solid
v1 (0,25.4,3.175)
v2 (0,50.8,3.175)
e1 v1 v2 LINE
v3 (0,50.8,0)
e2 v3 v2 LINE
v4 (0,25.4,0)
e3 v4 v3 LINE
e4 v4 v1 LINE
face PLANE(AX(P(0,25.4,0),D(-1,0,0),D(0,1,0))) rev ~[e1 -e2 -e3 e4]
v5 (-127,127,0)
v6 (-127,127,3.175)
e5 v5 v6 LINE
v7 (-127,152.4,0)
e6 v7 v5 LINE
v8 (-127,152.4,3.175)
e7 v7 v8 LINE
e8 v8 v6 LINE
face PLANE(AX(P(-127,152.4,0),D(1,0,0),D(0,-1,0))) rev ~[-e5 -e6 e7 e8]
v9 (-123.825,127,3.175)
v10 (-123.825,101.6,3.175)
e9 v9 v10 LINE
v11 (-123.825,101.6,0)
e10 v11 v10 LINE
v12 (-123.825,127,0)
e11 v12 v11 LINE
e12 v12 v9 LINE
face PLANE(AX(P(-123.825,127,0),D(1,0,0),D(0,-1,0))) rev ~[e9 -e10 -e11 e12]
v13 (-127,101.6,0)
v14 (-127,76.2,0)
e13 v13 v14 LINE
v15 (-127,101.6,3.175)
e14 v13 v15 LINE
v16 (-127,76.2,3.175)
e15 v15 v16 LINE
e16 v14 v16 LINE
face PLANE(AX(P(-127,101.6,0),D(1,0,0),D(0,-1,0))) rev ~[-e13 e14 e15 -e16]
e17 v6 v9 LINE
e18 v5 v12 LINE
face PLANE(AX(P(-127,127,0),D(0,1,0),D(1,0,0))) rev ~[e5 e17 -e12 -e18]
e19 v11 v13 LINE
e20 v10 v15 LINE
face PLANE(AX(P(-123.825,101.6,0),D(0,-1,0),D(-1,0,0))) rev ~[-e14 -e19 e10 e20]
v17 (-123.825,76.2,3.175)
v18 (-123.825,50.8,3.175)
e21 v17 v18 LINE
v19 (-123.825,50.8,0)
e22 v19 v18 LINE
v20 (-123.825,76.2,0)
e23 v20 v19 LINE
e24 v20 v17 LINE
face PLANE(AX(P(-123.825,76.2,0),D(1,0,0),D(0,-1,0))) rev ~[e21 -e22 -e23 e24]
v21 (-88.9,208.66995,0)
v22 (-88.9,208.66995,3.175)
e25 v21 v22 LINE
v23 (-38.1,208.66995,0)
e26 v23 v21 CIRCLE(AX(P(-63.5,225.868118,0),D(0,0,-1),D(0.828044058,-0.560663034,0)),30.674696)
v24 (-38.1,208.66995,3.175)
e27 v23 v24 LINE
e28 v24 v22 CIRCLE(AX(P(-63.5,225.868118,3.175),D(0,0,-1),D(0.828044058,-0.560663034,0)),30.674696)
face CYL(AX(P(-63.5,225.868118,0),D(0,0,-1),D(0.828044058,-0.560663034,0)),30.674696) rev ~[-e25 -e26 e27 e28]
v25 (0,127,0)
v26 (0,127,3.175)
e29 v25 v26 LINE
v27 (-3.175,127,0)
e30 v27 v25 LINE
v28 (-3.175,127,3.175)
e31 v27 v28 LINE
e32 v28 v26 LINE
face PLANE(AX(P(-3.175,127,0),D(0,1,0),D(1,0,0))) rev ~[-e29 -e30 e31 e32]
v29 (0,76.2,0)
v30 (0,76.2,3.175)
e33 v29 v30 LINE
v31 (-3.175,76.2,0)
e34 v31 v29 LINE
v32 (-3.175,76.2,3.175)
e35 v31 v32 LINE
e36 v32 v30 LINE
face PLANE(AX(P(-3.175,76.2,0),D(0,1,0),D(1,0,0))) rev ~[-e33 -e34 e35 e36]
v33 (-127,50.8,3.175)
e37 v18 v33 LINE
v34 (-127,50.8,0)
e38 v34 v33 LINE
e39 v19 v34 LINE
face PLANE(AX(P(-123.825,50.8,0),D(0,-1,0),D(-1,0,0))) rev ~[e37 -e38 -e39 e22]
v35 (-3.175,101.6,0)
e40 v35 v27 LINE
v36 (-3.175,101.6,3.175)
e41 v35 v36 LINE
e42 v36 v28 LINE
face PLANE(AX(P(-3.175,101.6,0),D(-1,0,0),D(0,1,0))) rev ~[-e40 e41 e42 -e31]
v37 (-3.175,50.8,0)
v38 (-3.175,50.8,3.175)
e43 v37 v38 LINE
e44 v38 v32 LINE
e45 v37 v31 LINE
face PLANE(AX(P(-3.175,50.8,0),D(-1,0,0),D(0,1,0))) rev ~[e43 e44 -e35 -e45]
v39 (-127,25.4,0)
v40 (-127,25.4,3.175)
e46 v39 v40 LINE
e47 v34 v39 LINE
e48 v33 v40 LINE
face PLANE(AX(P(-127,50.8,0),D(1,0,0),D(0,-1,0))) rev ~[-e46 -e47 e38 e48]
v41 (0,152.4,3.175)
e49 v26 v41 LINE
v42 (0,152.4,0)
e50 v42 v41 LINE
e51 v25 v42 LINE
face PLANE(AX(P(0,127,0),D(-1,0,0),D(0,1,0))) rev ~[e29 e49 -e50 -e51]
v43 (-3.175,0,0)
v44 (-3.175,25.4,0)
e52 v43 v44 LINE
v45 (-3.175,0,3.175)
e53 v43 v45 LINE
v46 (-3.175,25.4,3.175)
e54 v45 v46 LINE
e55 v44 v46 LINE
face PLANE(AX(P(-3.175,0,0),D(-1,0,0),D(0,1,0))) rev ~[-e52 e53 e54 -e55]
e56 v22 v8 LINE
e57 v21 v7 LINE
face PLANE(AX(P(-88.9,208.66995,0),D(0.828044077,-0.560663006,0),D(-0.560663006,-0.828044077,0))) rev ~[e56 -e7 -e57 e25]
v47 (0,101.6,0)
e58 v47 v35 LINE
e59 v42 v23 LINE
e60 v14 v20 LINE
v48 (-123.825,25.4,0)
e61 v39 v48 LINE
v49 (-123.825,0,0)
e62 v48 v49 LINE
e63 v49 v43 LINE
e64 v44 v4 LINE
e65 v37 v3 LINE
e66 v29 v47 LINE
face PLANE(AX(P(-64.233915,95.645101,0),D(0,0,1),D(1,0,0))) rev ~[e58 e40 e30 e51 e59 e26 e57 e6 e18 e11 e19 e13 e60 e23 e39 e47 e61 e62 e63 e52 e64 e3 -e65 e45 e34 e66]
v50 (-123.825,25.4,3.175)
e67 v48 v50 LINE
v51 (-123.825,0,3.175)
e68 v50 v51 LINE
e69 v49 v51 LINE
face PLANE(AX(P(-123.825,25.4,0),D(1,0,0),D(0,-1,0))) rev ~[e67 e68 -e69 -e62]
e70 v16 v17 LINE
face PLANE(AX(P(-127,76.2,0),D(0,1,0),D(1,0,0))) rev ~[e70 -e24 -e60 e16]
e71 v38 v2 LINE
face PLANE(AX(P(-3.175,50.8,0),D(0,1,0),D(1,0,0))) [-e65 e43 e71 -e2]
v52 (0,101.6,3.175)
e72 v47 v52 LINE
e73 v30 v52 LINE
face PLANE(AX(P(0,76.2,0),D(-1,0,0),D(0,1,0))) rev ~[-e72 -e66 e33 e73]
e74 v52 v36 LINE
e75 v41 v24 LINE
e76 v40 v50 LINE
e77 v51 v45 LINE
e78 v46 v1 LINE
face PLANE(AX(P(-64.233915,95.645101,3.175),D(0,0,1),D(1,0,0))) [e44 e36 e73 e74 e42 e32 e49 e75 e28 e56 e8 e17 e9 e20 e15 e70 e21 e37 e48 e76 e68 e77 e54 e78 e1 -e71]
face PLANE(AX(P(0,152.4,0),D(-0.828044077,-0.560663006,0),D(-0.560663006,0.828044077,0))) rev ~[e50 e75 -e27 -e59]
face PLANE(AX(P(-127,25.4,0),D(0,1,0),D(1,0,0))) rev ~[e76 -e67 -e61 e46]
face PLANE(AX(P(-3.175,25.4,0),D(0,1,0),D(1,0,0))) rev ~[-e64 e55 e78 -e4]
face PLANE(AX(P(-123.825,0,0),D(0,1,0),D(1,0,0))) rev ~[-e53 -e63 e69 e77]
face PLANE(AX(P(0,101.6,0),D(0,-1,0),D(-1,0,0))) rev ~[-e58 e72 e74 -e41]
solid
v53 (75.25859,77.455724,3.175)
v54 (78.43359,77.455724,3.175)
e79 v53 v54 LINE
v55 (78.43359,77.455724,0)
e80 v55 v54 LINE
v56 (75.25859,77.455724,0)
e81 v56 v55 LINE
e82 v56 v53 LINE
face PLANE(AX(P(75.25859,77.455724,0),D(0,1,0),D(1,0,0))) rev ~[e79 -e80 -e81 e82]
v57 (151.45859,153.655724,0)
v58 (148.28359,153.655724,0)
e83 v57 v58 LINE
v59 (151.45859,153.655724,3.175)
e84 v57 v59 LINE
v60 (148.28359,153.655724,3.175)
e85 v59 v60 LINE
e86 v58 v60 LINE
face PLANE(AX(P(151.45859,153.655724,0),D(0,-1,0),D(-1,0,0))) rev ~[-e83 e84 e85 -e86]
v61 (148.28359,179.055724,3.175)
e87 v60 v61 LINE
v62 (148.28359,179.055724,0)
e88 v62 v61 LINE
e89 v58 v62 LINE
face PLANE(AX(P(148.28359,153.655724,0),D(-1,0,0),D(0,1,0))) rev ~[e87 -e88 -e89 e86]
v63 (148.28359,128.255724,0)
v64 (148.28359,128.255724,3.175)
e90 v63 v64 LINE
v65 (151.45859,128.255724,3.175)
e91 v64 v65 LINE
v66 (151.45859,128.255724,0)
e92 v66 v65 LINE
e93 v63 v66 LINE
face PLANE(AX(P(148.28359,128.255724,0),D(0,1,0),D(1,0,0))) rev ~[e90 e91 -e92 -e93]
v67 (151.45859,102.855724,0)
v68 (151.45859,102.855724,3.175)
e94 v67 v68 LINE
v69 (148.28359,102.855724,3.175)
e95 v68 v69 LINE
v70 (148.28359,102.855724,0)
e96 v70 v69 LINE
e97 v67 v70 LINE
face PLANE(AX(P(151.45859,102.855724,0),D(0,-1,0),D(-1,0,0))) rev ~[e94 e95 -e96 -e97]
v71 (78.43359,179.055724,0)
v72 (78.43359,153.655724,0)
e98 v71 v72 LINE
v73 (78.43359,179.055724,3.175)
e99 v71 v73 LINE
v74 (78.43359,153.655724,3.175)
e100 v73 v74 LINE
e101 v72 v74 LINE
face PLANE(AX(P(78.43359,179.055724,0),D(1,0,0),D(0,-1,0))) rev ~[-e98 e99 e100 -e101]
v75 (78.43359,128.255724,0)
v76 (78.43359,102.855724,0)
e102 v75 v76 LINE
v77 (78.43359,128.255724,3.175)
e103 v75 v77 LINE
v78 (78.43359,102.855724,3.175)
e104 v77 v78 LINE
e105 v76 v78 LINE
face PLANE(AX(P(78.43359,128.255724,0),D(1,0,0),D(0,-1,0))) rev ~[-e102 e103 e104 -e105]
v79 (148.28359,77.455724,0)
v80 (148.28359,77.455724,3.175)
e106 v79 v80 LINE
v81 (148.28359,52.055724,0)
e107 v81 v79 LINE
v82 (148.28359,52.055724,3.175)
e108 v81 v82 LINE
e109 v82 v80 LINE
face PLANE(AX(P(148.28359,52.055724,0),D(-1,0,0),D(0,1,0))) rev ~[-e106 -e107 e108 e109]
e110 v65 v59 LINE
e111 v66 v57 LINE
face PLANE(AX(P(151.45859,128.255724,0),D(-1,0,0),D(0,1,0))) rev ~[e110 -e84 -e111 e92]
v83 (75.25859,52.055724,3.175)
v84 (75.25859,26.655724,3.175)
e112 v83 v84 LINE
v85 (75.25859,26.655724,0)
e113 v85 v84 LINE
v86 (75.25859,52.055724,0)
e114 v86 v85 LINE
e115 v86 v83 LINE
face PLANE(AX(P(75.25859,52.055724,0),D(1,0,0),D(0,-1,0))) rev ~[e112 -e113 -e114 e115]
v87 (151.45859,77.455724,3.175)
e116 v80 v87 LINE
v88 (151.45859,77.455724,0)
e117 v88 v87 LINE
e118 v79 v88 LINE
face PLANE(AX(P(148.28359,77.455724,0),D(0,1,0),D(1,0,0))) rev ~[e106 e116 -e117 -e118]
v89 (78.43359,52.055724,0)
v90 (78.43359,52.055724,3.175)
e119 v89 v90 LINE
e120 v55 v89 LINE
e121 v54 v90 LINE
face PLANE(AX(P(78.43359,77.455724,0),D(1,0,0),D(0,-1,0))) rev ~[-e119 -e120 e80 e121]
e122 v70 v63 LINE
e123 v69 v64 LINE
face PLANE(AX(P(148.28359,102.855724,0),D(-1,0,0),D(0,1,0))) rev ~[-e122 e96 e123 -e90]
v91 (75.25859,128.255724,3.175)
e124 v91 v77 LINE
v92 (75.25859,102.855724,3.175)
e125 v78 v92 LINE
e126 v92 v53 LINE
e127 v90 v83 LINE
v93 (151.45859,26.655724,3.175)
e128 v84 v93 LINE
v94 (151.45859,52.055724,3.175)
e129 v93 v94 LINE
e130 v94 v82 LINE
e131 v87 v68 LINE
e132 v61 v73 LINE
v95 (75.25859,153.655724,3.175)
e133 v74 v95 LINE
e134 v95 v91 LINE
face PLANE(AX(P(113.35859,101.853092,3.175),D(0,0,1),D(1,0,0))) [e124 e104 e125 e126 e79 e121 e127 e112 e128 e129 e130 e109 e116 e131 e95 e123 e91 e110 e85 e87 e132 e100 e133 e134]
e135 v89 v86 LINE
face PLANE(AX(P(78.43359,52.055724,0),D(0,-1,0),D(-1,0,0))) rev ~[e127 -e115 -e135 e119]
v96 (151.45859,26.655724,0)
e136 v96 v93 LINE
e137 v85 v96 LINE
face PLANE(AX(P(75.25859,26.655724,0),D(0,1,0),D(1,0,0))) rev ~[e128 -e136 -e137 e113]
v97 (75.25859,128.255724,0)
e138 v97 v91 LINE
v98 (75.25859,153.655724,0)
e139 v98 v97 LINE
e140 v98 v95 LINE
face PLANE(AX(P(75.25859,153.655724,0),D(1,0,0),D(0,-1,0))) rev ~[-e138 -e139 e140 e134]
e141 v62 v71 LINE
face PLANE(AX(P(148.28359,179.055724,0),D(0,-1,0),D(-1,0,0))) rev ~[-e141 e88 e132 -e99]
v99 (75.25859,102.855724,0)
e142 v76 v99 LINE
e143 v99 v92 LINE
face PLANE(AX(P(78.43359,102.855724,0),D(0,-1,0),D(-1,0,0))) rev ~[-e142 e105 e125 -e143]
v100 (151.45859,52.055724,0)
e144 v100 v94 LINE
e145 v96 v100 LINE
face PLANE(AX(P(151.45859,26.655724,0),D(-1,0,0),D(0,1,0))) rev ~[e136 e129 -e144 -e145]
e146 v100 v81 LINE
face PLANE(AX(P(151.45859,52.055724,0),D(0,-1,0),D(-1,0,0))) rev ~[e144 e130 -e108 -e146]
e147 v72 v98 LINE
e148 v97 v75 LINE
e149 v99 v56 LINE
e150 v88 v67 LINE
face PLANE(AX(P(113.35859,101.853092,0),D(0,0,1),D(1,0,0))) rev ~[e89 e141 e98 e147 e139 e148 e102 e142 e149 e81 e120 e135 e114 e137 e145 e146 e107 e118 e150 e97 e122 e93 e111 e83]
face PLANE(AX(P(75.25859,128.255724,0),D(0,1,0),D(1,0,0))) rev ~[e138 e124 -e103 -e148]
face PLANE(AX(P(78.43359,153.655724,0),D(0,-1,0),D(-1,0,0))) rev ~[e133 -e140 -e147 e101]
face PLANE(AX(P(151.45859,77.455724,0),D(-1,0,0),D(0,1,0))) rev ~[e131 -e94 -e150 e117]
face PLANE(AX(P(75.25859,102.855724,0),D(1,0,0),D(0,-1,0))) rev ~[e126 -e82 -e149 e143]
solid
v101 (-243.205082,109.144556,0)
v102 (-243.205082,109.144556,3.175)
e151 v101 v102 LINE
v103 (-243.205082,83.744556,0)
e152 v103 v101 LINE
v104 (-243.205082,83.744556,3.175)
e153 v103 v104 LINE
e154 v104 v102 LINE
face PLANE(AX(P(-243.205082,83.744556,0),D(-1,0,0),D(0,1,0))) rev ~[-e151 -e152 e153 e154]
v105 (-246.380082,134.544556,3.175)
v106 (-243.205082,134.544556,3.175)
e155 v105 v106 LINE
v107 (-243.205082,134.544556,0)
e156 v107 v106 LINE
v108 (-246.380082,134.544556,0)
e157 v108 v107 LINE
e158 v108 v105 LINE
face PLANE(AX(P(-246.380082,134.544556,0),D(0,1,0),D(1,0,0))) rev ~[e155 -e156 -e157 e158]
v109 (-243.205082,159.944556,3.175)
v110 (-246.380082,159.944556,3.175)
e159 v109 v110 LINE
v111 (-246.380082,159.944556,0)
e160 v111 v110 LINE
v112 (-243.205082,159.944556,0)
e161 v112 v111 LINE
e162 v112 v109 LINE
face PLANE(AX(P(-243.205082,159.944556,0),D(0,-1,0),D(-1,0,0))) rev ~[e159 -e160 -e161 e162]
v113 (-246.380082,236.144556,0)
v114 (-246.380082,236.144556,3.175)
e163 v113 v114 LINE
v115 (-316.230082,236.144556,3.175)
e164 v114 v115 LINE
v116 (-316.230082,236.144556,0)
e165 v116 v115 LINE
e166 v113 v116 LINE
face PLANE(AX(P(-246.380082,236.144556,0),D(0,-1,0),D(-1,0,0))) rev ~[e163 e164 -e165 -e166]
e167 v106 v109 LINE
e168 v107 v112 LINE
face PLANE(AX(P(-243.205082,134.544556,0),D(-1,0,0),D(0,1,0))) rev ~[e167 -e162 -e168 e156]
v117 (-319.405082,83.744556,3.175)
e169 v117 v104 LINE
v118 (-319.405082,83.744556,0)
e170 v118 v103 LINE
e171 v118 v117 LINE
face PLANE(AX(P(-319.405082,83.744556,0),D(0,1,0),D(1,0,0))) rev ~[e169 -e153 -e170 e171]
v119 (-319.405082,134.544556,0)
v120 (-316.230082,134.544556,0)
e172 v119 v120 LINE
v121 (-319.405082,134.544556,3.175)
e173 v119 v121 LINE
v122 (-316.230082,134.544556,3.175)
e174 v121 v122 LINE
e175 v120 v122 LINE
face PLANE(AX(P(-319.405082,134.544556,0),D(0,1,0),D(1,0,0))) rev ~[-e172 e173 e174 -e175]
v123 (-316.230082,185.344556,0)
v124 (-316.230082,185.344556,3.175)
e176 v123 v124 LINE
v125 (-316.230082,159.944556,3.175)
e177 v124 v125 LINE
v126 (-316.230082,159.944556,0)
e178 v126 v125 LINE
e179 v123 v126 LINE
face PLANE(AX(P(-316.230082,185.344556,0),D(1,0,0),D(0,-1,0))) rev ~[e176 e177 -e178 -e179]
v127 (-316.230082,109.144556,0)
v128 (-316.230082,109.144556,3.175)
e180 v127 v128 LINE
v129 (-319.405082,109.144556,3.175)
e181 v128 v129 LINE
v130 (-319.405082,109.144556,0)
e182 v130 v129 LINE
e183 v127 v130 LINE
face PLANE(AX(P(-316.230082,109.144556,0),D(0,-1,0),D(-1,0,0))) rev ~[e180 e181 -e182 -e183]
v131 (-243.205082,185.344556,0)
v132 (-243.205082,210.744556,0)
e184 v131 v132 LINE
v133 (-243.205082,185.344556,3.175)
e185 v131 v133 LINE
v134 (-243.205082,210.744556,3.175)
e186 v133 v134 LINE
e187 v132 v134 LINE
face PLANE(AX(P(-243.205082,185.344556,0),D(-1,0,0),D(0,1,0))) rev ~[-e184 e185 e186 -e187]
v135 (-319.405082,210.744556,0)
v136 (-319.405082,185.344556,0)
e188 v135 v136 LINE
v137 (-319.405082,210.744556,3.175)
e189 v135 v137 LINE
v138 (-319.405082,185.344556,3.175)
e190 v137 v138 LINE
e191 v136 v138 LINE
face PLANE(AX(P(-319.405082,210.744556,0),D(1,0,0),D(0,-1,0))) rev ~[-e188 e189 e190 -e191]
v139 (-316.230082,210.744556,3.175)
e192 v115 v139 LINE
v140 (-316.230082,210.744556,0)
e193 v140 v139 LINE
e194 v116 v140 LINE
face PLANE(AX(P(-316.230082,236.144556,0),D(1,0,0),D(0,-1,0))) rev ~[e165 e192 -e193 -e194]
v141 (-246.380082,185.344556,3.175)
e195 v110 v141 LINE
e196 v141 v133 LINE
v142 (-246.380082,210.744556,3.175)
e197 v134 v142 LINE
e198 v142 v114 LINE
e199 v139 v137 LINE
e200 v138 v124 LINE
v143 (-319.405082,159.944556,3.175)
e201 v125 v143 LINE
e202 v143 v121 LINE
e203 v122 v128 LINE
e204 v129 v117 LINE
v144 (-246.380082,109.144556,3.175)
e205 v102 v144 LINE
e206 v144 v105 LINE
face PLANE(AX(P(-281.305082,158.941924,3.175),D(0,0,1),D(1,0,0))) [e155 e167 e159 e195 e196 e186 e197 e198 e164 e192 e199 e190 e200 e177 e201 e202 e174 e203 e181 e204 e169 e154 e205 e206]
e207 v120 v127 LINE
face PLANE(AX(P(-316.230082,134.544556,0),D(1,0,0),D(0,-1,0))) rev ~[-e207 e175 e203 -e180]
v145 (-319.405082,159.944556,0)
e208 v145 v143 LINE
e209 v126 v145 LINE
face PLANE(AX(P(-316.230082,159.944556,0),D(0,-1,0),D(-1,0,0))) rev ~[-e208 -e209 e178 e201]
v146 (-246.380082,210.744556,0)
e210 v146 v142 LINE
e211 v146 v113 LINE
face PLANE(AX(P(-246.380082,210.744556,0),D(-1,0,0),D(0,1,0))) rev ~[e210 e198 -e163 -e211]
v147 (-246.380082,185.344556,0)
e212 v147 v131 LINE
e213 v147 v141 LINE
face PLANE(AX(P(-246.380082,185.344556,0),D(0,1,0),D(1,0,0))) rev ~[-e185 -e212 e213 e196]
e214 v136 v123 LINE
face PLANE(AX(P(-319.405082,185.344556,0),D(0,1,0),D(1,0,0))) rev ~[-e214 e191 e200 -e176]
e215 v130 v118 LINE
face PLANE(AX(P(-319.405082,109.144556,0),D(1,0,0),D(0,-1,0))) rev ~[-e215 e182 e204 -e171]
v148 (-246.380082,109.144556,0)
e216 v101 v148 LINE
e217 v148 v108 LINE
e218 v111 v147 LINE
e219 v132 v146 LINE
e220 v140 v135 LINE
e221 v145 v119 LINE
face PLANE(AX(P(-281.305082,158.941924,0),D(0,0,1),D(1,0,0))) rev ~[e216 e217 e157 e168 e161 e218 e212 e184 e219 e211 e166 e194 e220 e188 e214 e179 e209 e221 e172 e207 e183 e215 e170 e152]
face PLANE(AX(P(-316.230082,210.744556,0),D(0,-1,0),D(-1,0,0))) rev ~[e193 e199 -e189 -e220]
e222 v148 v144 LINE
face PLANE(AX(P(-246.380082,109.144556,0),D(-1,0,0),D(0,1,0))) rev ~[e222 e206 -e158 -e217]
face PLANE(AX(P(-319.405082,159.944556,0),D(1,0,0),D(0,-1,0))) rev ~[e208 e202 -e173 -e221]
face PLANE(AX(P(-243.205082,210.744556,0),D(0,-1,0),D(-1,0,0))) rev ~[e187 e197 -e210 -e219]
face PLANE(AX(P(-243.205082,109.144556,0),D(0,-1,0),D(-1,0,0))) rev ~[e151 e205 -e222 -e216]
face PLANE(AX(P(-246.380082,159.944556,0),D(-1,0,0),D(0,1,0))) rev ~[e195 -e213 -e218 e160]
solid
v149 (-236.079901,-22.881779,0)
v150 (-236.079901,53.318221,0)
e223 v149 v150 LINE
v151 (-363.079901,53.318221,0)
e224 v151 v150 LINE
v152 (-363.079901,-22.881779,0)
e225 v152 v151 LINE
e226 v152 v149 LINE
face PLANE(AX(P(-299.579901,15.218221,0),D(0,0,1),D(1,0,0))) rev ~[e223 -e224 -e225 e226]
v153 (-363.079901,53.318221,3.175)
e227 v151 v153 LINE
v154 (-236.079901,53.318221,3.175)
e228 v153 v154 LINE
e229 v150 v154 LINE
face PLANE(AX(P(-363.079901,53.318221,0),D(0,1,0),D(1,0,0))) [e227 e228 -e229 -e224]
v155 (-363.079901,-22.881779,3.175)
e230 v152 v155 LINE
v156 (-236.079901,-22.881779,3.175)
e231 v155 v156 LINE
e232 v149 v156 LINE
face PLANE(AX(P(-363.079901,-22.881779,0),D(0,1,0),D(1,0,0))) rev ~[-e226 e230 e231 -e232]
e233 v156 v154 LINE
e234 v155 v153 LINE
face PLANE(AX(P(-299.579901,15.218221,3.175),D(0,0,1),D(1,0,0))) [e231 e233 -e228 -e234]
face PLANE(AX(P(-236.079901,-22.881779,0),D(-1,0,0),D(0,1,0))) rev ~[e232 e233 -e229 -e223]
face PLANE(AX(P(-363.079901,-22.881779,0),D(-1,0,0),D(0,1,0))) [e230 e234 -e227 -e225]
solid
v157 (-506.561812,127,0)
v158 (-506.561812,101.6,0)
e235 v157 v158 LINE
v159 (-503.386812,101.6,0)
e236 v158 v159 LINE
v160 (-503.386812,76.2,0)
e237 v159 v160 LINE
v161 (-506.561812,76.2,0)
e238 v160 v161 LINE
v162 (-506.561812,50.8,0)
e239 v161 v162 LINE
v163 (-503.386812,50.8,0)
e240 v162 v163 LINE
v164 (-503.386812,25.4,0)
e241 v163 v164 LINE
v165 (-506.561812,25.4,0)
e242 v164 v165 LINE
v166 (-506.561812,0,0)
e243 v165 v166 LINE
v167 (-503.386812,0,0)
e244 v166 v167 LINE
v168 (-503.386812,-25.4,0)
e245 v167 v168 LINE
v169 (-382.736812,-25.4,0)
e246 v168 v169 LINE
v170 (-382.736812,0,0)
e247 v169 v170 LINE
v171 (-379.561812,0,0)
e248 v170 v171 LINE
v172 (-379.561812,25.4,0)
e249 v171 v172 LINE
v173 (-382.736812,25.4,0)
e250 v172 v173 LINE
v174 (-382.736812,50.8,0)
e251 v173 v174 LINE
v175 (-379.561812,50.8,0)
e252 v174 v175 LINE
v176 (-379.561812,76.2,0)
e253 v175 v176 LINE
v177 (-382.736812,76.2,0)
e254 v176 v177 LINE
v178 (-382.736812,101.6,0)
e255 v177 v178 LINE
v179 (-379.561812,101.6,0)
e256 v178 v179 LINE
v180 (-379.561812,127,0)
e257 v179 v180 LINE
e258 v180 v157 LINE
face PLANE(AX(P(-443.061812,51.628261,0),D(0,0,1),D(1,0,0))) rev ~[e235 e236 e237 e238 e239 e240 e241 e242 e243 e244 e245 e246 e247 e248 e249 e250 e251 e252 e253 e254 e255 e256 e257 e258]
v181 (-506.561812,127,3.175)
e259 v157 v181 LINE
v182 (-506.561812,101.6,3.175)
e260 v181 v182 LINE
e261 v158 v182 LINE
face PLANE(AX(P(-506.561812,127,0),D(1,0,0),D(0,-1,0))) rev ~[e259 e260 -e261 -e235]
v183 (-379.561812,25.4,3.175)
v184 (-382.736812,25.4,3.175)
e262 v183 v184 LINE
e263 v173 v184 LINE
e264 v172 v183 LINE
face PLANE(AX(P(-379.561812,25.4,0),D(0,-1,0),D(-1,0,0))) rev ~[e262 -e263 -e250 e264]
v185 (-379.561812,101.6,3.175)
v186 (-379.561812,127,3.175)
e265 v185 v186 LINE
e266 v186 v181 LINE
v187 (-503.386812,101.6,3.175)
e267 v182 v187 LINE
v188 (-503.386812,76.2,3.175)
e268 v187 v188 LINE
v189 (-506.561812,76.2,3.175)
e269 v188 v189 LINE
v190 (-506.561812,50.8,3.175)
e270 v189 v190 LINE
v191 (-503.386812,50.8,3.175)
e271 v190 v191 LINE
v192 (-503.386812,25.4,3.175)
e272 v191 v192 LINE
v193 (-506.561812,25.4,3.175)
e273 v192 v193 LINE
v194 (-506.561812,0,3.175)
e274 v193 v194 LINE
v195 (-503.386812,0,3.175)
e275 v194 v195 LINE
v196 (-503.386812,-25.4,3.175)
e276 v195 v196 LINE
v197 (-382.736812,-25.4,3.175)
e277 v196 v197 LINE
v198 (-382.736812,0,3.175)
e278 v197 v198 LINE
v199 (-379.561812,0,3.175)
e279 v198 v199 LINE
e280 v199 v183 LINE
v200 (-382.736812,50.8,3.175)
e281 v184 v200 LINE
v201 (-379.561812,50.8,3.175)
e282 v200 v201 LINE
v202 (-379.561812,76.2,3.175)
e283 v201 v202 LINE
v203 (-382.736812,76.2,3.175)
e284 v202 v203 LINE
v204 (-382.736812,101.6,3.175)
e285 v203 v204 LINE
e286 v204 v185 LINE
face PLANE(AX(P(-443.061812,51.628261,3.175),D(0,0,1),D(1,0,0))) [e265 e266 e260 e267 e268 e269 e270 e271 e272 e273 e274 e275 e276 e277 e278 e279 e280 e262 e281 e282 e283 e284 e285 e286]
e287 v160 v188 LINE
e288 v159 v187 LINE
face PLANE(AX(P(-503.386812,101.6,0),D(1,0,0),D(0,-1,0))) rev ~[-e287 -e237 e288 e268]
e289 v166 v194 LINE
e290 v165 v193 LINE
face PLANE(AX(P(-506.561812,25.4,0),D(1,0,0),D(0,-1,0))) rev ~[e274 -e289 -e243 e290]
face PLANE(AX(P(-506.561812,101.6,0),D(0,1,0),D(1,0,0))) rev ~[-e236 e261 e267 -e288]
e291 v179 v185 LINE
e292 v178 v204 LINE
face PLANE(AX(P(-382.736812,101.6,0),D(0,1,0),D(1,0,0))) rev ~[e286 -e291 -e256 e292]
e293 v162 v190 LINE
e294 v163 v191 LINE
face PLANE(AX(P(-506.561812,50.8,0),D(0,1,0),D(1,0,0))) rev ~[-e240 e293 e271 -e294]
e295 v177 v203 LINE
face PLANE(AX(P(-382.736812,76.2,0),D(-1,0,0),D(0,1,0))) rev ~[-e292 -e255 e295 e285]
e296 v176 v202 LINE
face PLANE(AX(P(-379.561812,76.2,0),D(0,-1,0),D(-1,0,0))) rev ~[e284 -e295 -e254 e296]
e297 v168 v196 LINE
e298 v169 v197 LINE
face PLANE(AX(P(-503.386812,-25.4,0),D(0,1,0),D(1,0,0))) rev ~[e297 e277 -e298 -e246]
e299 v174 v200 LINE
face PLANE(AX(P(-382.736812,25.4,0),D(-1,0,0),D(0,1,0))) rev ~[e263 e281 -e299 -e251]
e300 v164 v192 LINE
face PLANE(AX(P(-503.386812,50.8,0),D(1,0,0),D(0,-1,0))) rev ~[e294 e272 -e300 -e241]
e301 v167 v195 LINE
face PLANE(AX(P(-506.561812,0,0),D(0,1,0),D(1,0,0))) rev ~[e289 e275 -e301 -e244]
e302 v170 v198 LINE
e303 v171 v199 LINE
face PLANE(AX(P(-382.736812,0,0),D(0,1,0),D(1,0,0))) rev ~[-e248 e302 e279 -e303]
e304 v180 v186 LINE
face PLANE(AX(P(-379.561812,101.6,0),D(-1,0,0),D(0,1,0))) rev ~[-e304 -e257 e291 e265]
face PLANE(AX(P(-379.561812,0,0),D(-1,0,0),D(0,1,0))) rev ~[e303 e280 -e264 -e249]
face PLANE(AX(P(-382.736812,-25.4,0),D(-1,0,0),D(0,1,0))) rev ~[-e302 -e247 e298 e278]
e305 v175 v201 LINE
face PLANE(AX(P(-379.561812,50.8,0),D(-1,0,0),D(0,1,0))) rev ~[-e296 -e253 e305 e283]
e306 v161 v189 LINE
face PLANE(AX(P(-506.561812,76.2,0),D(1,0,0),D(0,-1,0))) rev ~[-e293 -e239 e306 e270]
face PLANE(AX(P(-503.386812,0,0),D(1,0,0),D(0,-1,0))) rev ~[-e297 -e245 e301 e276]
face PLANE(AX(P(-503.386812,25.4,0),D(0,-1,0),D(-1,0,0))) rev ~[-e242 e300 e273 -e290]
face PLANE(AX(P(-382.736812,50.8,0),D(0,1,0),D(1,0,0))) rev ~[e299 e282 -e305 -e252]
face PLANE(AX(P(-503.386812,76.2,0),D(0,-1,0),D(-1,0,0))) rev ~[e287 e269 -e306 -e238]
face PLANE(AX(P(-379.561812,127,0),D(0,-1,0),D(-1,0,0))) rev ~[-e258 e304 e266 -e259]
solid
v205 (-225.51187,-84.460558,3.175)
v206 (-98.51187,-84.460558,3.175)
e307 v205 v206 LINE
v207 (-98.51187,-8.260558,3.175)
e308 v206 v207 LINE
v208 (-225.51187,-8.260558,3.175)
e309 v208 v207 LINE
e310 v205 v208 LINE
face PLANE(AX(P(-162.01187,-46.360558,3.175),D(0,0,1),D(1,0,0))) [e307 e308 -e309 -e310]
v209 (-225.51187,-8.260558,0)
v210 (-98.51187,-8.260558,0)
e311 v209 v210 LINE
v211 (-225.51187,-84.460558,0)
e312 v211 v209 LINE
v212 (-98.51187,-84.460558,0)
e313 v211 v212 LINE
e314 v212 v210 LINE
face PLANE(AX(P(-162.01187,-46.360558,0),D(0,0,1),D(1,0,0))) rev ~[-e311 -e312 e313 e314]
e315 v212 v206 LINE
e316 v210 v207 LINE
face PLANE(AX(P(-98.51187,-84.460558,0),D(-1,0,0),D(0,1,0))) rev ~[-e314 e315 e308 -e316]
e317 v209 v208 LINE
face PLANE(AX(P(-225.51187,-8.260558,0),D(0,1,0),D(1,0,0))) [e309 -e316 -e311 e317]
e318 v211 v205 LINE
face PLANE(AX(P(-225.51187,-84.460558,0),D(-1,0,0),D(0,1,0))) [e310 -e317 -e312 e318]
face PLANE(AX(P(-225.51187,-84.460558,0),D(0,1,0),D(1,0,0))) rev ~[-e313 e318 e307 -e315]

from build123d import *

# Parameters (mm, degrees)
F0_W     = 3.175
F0_H     = 25.4
F0_W_2   = 127
F0_H_2   = 76.2
F1_DEPTH = 3.175


with BuildPart() as f1:
    # F0 (on Top) → F1 (new body)
    with BuildSketch(Plane.XY):
        with BuildLine():
            Line((-123.825, 25.4), (-123.825, 0))
            Line((-123.825, 0), (-3.175, 0))
            Line((-3.175, 0), (-3.175, 25.4))
            Line((-3.175, 25.4), (-3.175, 50.8))
            Line((-3.175, 50.8), (-3.175, 76.2))
            Line((-3.175, 76.2), (0, 76.2))
            Line((0, 76.2), (0, 101.6))
            Line((0, 101.6), (-3.175, 101.6))
            Line((-3.175, 101.6), (-3.175, 127))
            Line((-3.175, 127), (0, 127))
            Line((0, 127), (0, 152.4))
            Line((0, 152.4), (-38.1, 208.66995))
            ThreePointArc((-38.1, 208.66995), (-63.5, 195.193422), (-88.9, 208.66995))
            Line((-88.9, 208.66995), (-127, 152.4))
            Line((-127, 152.4), (-127, 127))
            Line((-127, 127), (-123.825, 127))
            Line((-123.825, 127), (-123.825, 101.6))
            Line((-123.825, 101.6), (-127, 101.6))
            Line((-127, 101.6), (-127, 76.2))
            Line((-127, 76.2), (-123.825, 76.2))
            Line((-123.825, 76.2), (-123.825, 50.8))
            Line((-123.825, 50.8), (-127, 50.8))
            Line((-127, 50.8), (-127, 25.4))
            Line((-127, 25.4), (-123.825, 25.4))
        make_face()
        with Locations((-1.5875, 38.1)):
            Rectangle(F0_W, F0_H)
        Polygon((-246.380082, 236.144556), (-316.230082, 236.144556), (-316.230082, 210.744556), (-319.405082, 210.744556), (-319.405082, 185.344556), (-316.230082, 185.344556), (-316.230082, 159.944556), (-319.405082, 159.944556), (-319.405082, 134.544556), (-316.230082, 134.544556), (-316.230082, 109.144556), (-319.405082, 109.144556), (-319.405082, 83.744556), (-243.205082, 83.744556), (-243.205082, 109.144556), (-246.380082, 109.144556), (-246.380082, 134.544556), (-243.205082, 134.544556), (-243.205082, 159.944556), (-246.380082, 159.944556), (-246.380082, 185.344556), (-243.205082, 185.344556), (-243.205082, 210.744556), (-246.380082, 210.744556), align=None)
        with Locations((-162.01187, -46.360558)):
            Rectangle(F0_W_2, F0_H_2)
        Polygon((-379.561812, 127), (-506.561812, 127), (-506.561812, 101.6), (-503.386812, 101.6), (-503.386812, 76.2), (-506.561812, 76.2), (-506.561812, 50.8), (-503.386812, 50.8), (-503.386812, 25.4), (-506.561812, 25.4), (-506.561812, 0), (-503.386812, 0), (-503.386812, -25.4), (-382.736812, -25.4), (-382.736812, 0), (-379.561812, 0), (-379.561812, 25.4), (-382.736812, 25.4), (-382.736812, 50.8), (-379.561812, 50.8), (-379.561812, 76.2), (-382.736812, 76.2), (-382.736812, 101.6), (-379.561812, 101.6), align=None)
        with Locations((-299.579901, 15.218221)):
            Rectangle(F0_W_2, F0_H_2)
        Polygon((148.28359, 179.055724), (78.43359, 179.055724), (78.43359, 153.655724), (75.25859, 153.655724), (75.25859, 128.255724), (78.43359, 128.255724), (78.43359, 102.855724), (75.25859, 102.855724), (75.25859, 77.455724), (78.43359, 77.455724), (78.43359, 52.055724), (75.25859, 52.055724), (75.25859, 26.655724), (151.45859, 26.655724), (151.45859, 52.055724), (148.28359, 52.055724), (148.28359, 77.455724), (151.45859, 77.455724), (151.45859, 102.855724), (148.28359, 102.855724), (148.28359, 128.255724), (151.45859, 128.255724), (151.45859, 153.655724), (148.28359, 153.655724), align=None)
    extrude(amount=F1_DEPTH)


solid = f1.part
